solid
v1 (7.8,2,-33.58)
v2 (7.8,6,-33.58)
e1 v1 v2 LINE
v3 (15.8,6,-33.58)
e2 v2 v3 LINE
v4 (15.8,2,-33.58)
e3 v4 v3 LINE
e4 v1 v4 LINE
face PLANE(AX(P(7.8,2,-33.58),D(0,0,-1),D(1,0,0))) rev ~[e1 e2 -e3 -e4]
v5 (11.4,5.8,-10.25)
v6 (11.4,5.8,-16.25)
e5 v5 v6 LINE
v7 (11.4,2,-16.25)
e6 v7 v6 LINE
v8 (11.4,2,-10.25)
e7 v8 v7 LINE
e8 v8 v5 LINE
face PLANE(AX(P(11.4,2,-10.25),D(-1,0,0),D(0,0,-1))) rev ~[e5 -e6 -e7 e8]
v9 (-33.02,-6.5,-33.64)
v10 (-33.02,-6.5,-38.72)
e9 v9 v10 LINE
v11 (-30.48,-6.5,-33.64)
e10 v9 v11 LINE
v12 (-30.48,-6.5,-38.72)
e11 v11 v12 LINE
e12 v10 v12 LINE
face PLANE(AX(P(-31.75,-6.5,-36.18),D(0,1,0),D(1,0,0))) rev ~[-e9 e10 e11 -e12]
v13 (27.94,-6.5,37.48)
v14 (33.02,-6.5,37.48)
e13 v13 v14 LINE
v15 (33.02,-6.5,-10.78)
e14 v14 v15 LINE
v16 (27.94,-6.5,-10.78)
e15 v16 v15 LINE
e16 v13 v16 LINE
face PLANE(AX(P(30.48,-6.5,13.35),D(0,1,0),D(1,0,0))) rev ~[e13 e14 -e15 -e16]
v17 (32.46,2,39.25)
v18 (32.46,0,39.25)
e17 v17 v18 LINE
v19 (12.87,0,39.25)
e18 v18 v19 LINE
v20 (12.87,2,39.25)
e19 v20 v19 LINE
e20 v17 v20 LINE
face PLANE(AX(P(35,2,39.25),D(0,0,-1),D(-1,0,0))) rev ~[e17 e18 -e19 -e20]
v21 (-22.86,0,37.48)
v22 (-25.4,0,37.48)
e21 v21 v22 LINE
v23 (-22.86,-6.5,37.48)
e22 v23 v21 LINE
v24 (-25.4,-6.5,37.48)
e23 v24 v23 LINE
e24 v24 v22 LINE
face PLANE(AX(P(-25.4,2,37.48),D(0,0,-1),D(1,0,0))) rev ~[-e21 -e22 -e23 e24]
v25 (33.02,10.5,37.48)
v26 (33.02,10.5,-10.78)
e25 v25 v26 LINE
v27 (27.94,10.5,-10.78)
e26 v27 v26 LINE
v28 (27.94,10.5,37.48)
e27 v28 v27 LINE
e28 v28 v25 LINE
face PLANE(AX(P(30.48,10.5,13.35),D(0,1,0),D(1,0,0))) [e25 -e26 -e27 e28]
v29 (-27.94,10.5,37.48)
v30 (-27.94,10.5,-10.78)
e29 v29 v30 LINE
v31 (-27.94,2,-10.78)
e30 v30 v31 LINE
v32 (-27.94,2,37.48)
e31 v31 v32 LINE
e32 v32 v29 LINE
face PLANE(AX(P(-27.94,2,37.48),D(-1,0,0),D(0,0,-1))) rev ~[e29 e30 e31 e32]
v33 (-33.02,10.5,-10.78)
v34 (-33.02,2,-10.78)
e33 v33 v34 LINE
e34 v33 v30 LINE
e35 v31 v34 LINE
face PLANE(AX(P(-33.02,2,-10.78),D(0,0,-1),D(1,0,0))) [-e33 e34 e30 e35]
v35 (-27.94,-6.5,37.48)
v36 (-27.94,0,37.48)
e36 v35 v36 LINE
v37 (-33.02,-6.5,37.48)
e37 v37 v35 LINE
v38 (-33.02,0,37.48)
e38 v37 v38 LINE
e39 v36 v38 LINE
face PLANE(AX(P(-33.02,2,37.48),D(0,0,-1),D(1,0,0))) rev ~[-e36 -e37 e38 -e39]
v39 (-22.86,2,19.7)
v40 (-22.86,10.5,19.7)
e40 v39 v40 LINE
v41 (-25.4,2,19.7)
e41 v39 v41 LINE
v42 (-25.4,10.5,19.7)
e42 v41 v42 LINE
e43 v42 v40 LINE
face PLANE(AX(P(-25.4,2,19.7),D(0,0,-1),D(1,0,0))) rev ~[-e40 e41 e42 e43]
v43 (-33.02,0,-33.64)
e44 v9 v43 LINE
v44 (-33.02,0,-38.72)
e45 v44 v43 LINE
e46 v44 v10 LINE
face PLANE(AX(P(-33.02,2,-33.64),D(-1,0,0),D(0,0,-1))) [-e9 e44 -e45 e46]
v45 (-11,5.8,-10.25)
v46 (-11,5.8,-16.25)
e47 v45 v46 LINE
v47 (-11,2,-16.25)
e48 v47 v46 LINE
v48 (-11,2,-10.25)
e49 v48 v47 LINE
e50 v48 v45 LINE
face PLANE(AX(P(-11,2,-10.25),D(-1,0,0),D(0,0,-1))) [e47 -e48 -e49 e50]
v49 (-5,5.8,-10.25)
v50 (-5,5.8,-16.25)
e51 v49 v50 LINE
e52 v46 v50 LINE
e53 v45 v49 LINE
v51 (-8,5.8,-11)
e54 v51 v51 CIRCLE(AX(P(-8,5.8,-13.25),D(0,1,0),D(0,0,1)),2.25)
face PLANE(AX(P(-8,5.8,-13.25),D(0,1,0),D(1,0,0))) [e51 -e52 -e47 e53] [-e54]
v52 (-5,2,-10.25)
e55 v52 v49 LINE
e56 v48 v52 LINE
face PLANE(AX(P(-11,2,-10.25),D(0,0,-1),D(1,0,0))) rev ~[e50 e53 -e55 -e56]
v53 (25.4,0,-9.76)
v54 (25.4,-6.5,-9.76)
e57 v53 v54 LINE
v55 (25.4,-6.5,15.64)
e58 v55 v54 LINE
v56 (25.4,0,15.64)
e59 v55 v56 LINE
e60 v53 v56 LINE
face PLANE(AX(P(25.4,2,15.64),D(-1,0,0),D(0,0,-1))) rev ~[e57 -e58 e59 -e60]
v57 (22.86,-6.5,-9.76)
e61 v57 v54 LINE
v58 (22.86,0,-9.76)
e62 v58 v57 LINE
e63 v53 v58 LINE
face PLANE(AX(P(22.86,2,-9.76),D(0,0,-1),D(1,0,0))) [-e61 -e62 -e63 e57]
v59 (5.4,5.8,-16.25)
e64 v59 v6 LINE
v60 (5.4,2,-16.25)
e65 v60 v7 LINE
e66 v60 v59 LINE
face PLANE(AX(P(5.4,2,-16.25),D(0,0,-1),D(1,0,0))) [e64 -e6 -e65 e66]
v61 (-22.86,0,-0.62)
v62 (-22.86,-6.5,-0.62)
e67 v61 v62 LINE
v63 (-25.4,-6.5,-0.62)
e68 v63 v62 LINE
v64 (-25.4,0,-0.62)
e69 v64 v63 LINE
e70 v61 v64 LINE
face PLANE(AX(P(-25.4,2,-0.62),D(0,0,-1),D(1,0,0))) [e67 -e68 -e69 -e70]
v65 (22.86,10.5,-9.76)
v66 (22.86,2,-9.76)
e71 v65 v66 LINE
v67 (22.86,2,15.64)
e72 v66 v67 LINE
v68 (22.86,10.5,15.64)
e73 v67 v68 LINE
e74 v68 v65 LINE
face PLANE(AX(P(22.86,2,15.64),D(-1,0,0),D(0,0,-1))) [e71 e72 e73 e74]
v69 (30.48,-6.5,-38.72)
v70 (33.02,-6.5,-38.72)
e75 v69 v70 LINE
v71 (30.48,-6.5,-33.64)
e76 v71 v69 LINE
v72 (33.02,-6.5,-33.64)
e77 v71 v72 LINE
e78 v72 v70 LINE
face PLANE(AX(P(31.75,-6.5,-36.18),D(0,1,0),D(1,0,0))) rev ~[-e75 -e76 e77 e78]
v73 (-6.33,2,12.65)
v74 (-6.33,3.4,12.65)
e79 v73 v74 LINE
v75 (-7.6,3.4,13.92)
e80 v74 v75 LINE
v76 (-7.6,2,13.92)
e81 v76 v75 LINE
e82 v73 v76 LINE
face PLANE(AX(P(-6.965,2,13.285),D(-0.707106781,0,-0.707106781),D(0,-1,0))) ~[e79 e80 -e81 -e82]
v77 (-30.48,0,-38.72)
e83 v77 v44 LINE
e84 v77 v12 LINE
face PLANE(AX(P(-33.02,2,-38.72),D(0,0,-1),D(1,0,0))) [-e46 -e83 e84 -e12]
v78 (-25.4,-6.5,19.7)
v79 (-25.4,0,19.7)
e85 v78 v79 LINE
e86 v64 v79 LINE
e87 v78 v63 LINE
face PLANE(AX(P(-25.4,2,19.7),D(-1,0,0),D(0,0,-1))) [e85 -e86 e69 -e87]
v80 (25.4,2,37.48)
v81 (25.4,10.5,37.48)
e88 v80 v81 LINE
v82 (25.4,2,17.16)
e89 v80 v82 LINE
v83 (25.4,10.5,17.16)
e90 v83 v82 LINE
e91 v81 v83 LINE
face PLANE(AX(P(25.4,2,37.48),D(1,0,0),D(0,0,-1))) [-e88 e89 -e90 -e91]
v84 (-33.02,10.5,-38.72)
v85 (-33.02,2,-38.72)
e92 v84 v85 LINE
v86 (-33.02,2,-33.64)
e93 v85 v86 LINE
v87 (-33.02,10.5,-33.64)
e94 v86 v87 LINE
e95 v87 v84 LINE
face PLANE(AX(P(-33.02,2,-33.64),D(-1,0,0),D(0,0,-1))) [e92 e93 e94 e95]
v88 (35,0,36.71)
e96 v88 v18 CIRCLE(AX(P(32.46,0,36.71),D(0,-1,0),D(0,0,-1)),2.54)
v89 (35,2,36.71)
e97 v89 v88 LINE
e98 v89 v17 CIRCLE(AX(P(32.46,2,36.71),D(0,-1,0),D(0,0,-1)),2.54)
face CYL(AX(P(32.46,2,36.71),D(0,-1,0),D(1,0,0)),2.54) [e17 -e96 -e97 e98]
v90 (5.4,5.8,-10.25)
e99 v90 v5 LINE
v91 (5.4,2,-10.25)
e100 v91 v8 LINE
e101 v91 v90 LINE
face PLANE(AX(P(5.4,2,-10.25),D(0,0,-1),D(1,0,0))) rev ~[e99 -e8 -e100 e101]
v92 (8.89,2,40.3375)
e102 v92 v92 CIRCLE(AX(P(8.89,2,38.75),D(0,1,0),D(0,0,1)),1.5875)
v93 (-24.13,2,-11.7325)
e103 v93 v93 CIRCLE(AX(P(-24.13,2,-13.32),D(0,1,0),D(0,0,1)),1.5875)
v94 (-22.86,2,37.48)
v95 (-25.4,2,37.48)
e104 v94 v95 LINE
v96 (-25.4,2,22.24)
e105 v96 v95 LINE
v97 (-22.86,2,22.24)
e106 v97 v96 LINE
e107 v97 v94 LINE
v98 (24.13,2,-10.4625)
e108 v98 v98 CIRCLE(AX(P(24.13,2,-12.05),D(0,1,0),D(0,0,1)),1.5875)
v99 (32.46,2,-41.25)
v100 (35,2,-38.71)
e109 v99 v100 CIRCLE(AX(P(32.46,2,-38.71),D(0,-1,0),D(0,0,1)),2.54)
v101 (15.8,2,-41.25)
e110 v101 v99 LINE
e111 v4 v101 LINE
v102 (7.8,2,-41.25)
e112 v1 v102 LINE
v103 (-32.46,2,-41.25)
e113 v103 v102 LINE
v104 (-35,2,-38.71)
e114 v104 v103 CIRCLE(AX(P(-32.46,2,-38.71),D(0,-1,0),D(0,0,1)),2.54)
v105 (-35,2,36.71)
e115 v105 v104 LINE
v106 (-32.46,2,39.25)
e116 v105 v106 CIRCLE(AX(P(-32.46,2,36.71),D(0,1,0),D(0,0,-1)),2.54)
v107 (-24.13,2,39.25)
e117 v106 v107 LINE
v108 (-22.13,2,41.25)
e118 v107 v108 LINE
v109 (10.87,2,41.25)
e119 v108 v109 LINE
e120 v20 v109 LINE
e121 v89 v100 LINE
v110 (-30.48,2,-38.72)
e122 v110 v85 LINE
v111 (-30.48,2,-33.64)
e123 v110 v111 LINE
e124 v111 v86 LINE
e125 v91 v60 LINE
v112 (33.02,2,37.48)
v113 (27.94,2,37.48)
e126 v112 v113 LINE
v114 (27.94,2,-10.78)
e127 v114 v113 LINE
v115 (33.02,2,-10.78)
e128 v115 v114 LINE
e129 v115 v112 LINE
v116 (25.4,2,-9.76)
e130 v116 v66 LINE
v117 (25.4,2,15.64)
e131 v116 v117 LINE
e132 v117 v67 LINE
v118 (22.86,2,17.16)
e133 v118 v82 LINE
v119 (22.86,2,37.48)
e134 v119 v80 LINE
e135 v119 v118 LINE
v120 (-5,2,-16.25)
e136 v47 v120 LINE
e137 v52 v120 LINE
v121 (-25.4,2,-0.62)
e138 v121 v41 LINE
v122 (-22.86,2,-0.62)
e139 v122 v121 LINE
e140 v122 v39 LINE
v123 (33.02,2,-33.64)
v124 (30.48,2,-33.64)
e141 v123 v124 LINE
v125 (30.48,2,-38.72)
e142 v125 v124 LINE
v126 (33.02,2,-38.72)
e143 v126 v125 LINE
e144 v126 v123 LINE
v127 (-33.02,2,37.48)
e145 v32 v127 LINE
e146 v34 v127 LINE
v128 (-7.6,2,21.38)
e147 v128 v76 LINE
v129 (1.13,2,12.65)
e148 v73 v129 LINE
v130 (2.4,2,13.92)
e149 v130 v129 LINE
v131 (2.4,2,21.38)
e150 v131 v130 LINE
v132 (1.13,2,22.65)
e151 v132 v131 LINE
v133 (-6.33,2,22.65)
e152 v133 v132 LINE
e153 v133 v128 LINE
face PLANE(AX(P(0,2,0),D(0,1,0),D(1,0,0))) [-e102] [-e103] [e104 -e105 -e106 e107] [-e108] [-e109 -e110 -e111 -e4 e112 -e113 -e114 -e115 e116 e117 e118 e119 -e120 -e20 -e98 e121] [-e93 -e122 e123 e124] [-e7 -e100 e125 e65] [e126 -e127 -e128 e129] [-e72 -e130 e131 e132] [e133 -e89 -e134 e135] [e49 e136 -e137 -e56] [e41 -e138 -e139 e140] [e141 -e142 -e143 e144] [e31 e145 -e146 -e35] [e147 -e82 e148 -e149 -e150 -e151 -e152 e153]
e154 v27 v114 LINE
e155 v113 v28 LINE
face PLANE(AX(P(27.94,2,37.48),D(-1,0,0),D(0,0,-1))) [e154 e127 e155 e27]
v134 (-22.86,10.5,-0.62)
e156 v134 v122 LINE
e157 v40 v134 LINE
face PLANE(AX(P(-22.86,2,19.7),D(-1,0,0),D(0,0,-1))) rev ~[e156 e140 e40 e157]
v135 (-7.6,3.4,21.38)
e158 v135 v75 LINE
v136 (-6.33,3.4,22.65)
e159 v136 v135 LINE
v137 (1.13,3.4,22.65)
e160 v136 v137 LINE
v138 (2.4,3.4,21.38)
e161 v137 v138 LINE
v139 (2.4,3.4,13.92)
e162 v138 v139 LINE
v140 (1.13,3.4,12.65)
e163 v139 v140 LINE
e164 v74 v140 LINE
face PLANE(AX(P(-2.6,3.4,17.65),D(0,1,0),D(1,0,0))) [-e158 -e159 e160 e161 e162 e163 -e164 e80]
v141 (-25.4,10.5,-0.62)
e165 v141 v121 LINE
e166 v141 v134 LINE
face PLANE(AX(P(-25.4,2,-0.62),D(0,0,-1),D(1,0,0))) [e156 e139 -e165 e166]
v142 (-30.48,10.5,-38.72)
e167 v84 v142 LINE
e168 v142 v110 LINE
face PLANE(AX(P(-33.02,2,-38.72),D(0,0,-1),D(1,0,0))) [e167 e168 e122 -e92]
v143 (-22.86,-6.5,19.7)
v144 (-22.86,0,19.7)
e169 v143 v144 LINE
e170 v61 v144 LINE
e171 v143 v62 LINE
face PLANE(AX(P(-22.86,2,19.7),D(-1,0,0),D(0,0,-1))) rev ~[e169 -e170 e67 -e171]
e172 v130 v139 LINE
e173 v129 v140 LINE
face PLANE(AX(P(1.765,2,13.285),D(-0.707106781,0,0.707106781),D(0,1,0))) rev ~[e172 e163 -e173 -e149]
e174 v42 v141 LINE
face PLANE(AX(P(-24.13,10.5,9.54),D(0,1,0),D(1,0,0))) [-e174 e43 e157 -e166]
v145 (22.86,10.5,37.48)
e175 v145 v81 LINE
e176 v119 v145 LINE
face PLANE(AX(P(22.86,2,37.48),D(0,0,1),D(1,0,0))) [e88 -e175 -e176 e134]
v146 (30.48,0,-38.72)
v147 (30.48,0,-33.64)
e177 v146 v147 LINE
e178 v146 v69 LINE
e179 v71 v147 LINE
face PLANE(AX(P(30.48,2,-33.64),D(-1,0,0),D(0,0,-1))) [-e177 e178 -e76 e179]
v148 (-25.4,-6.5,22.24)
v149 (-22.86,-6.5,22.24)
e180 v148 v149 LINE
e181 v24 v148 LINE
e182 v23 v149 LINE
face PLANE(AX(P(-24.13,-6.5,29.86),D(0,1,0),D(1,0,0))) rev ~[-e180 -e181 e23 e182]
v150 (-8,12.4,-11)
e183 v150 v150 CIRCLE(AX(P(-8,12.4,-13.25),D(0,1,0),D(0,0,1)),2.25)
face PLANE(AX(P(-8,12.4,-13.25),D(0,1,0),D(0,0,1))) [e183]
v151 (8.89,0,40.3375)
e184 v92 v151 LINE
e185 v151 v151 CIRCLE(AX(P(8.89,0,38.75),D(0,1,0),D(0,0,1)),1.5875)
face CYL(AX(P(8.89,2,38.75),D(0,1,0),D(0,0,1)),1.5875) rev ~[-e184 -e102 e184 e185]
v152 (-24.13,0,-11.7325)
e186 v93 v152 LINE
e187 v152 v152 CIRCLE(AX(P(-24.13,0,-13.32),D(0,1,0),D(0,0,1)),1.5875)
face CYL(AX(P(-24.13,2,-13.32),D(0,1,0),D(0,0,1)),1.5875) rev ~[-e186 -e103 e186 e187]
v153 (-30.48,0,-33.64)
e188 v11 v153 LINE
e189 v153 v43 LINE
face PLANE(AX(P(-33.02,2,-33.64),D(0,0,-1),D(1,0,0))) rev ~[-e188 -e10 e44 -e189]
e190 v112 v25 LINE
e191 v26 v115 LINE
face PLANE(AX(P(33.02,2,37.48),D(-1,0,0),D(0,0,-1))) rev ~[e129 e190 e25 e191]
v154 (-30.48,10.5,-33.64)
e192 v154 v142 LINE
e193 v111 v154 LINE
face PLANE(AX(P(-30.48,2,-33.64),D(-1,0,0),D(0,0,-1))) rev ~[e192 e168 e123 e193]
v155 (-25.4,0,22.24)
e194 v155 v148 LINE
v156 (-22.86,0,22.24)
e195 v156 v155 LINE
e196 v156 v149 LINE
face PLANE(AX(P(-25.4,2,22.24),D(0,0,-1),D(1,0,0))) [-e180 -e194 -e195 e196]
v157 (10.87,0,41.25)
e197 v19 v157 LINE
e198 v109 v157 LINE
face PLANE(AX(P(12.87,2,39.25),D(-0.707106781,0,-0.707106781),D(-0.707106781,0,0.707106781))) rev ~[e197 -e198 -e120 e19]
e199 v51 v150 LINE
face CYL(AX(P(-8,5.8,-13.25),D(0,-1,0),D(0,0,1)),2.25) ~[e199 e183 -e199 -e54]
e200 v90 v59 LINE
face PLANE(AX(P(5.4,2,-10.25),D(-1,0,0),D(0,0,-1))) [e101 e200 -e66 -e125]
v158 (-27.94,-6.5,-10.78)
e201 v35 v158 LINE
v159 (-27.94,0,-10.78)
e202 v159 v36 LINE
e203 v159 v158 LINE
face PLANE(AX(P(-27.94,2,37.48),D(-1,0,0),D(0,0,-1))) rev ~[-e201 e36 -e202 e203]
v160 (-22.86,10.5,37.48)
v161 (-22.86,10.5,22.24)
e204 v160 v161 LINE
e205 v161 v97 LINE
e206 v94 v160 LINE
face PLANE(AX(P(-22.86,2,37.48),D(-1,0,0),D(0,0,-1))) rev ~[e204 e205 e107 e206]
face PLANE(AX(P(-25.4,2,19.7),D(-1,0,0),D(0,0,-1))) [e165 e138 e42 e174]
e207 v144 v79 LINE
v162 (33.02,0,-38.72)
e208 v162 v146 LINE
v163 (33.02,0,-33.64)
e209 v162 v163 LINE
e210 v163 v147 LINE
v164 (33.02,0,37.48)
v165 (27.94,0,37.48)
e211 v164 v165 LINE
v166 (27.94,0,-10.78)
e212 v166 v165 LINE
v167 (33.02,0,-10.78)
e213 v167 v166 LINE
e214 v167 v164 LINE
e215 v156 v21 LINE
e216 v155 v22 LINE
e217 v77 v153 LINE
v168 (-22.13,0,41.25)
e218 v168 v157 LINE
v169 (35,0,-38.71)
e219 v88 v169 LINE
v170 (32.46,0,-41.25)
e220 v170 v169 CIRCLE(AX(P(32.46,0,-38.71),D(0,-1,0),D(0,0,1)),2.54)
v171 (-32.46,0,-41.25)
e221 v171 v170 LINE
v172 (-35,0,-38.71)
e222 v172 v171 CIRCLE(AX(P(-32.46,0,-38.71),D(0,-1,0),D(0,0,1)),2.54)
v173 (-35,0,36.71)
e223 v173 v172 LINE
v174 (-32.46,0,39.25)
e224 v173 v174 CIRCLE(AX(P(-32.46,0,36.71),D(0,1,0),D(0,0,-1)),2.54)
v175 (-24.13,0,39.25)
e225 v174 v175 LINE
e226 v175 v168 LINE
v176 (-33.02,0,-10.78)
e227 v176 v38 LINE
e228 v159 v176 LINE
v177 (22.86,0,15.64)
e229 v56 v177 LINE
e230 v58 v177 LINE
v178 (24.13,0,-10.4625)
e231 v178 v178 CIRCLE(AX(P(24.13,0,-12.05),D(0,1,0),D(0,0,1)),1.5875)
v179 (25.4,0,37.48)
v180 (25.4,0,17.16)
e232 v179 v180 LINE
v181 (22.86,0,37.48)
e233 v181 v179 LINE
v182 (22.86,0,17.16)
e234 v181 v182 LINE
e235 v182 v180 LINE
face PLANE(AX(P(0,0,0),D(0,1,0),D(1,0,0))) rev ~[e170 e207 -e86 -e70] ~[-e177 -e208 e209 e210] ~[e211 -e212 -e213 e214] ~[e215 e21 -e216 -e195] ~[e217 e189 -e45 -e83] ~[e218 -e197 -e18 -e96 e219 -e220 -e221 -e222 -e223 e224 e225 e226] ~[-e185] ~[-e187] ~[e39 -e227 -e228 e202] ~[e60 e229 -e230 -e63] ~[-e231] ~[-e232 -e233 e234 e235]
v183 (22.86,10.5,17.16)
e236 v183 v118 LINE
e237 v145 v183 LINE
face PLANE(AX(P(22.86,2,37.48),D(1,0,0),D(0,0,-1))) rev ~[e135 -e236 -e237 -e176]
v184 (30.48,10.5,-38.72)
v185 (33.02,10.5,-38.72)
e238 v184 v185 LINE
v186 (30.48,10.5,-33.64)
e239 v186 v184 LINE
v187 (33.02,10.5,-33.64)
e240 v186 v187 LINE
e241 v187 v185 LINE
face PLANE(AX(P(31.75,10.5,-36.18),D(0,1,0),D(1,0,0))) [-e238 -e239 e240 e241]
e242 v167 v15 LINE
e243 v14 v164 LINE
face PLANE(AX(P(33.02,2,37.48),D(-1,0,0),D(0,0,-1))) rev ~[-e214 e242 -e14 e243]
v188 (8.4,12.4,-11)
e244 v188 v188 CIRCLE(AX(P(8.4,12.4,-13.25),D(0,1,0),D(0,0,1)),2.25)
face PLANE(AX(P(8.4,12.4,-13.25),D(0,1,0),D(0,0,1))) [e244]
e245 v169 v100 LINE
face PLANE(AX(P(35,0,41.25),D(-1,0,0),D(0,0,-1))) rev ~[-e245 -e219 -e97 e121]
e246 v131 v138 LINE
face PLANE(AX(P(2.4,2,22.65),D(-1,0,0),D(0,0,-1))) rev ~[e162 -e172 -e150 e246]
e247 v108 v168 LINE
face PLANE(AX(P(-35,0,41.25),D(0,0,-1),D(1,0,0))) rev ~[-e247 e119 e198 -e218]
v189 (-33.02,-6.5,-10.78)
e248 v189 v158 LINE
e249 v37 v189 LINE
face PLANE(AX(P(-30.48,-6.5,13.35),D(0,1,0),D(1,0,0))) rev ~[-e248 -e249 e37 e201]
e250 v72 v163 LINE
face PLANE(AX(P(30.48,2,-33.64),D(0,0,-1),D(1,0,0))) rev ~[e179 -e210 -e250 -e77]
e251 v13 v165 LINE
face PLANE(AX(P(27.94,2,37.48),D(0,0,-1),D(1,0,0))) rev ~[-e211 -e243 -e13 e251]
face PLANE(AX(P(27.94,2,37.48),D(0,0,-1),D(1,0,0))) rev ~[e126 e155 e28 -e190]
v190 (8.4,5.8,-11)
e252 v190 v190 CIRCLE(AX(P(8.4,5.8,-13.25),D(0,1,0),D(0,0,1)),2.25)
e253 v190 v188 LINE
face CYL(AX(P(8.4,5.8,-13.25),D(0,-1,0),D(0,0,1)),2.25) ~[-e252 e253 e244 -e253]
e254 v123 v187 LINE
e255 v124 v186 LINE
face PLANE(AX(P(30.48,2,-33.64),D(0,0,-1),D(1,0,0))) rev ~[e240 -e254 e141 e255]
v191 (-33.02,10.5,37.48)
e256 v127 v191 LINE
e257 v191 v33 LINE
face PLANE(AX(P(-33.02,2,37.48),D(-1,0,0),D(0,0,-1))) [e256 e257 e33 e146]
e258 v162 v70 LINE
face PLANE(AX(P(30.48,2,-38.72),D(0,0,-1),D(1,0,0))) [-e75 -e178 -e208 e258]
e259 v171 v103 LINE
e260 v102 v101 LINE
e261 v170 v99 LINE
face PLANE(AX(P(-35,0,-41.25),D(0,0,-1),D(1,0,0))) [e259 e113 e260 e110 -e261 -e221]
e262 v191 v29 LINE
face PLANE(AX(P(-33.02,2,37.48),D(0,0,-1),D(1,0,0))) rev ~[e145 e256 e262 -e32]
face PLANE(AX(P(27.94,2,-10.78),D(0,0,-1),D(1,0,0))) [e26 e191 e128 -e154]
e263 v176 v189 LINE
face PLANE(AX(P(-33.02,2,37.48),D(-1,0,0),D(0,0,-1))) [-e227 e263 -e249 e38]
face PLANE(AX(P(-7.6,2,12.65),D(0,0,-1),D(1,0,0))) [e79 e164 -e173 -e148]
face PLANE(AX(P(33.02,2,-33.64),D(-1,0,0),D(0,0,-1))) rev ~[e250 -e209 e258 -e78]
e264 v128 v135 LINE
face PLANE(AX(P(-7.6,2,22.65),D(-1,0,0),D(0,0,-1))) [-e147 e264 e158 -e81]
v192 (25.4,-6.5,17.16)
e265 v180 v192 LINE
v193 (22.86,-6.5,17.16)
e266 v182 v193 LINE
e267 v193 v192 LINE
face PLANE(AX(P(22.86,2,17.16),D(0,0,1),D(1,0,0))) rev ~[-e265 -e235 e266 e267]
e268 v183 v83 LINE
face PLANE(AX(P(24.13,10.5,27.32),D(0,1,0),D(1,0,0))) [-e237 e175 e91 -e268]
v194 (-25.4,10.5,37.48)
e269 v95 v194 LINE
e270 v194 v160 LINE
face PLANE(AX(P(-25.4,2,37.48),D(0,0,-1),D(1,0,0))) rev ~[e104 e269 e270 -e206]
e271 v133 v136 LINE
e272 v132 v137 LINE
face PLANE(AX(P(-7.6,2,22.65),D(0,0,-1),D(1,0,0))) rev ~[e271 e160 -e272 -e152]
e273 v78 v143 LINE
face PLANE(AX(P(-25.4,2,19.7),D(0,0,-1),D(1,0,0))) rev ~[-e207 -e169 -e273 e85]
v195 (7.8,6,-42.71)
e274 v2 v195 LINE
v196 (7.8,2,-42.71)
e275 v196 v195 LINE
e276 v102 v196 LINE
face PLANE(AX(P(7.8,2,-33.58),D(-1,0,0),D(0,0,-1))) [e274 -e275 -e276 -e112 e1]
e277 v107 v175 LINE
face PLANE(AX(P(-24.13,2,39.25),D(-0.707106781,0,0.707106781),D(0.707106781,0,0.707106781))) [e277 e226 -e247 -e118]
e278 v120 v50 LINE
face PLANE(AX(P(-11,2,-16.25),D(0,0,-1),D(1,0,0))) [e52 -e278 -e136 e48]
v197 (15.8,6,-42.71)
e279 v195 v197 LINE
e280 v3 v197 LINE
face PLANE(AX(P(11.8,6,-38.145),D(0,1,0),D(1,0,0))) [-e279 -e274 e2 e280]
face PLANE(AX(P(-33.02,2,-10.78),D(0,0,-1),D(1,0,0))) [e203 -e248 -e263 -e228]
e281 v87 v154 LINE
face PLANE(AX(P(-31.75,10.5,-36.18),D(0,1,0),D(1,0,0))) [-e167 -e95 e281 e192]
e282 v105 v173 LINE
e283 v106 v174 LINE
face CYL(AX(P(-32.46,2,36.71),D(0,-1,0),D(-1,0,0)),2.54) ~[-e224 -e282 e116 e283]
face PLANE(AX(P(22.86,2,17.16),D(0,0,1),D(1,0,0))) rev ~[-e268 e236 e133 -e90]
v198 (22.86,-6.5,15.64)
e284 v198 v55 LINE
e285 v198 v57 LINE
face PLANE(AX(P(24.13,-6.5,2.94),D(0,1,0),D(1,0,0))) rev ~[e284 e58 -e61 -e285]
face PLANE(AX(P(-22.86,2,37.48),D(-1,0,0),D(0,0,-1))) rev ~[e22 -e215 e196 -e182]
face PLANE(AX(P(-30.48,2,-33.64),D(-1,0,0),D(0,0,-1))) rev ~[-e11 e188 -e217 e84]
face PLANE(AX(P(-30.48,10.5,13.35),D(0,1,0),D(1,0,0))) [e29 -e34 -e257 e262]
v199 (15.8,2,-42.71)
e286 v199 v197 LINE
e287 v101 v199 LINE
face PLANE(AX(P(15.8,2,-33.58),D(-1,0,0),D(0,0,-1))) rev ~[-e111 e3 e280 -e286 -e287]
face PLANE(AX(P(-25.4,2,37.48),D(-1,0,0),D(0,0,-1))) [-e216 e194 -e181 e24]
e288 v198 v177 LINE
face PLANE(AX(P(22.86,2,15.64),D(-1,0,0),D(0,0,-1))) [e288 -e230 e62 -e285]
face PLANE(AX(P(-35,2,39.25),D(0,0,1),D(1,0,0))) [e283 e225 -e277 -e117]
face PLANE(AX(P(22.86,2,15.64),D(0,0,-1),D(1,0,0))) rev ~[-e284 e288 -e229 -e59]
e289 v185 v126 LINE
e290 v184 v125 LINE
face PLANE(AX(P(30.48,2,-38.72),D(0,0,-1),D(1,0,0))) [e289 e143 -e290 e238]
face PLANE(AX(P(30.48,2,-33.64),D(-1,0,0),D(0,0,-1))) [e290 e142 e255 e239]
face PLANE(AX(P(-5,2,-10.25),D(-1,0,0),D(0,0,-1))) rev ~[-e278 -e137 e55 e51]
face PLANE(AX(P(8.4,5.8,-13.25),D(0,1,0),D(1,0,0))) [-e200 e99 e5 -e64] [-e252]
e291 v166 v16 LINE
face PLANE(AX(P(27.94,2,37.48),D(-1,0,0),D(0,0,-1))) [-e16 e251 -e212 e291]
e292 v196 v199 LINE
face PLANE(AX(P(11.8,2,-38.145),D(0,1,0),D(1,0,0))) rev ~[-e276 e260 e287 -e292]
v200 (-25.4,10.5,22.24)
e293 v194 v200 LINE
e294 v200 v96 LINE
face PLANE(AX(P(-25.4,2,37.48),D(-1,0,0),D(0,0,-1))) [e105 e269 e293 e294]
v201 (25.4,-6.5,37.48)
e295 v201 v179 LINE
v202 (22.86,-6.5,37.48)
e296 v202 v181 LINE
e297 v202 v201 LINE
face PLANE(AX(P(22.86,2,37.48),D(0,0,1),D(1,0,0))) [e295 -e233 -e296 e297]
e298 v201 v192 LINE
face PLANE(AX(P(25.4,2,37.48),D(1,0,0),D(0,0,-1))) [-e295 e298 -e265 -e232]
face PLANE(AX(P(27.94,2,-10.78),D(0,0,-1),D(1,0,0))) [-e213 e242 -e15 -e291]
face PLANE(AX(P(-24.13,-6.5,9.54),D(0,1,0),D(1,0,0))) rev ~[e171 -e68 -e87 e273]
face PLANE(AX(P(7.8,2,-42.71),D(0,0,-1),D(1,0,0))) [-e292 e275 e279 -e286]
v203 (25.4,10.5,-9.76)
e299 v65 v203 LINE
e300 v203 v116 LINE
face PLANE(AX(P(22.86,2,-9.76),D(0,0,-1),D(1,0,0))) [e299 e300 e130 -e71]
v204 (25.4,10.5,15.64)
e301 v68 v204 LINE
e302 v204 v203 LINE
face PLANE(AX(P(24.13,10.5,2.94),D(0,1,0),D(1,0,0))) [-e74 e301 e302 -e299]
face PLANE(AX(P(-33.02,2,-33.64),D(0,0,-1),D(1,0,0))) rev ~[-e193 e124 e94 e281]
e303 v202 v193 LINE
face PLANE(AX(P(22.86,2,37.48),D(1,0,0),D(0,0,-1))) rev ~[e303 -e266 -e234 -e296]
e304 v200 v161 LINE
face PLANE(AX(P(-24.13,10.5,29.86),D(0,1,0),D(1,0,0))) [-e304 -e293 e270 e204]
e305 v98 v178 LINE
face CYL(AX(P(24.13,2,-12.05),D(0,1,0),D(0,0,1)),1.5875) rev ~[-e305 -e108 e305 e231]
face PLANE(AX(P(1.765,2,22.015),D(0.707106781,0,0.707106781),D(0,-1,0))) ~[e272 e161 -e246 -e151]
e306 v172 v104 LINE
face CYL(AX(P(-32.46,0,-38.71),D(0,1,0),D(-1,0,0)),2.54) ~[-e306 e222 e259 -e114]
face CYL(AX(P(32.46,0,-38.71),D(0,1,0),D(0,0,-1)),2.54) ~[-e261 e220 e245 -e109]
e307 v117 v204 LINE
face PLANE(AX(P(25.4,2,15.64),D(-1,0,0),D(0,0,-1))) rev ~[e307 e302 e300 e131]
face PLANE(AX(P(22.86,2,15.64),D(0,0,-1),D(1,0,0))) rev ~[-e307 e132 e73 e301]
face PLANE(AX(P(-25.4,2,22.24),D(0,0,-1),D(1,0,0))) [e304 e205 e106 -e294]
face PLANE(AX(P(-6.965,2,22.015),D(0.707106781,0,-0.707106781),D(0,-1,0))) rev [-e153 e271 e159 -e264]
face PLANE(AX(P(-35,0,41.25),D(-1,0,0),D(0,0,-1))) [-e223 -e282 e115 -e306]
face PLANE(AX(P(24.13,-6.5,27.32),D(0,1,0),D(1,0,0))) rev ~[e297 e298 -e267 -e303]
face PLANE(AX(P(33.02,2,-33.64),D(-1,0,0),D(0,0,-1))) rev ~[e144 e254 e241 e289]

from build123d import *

# Parameters (mm, degrees)
SKETCH1_W           = 70
SKETCH1_H           = 82.5
BOSS_EXTRUDE1_DEPTH = 2
SKETCH2_R           = 1.5875
CUT_EXTRUDE1_DEPTH  = 55.134670037
FILLET1_R           = 2.54
SKETCH2_3_W         = 5.08
SKETCH2_3_H         = 48.26
SKETCH2_3_W_2       = 2.54
SKETCH2_3_H_2       = 25.4
SKETCH2_3_H_3       = 20.32
SKETCH2_3_H_4       = 15.24
SKETCH2_3_H_5       = 5.08
BOSS_EXTRUDE2_DEPTH = 8.500000018
SKETCH4_W           = 8
SKETCH4_H           = 9.13
BOSS_EXTRUDE3_DEPTH = 4
SKETCH4_3_W         = 6
SKETCH4_3_H         = 6
BOSS_EXTRUDE4_DEPTH = 3.8
SKETCH5_R           = 2.25
BOSS_EXTRUDE5_DEPTH = 6.6
SKETCH6_W           = 10
SKETCH6_H           = 10
BOSS_EXTRUDE6_DEPTH = 1.4
CHAMFER1_SIZE       = 1.27


with BuildPart() as part:
    # Sketch1 → Boss-Extrude1 (new body)
    with BuildSketch(Plane(origin=(0, 0, 0), x_dir=(1, 0, 0), z_dir=(0, 1, 0))):
        Rectangle(SKETCH1_W, SKETCH1_H)
    extrude(amount=BOSS_EXTRUDE1_DEPTH)

    # Sketch2 → Cut-Extrude1 (cut, through all)
    with BuildSketch(Plane(origin=(0, 2, 0), x_dir=(1, 0, 0), z_dir=(0, 1, 0))):
        with Locations((8.89, -38.75)):
            Circle(SKETCH2_R)
        with Locations((24.13, 12.05)):
            Circle(SKETCH2_R)
        with Locations((-24.13, 13.32)):
            Circle(SKETCH2_R)
        Polygon((-35, -41.25), (-35, -39.25), (-24.13, -39.25), (-22.13, -41.25), align=None)
        Polygon((35, -39.25), (12.87, -39.25), (10.87, -41.25), (35, -41.25), align=None)
    extrude(amount=-CUT_EXTRUDE1_DEPTH, mode=Mode.SUBTRACT)

    # Fillet1
    fillet1_edges = [part.edges().sort_by_distance(p)[0] for p in [
        (-35, 1, -41.25),
        (35, 1, -41.25),
        (35, 1, 39.25),
        (-35, 1, 39.25),
    ]]
    fillet(fillet1_edges, radius=FILLET1_R)

    # Sketch2<3> → Boss-Extrude2 (add, symmetric)
    with BuildSketch(Plane(origin=(0, 2, 0), x_dir=(1, 0, 0), z_dir=(0, 1, 0))):
        with Locations((30.48, -13.35)):
            Rectangle(SKETCH2_3_W, SKETCH2_3_H)
        with Locations((-30.48, -13.35)):
            Rectangle(SKETCH2_3_W, SKETCH2_3_H)
        with Locations((24.13, -2.94)):
            Rectangle(SKETCH2_3_W_2, SKETCH2_3_H_2)
        with Locations((24.13, -27.32)):
            Rectangle(SKETCH2_3_W_2, SKETCH2_3_H_3)
        with Locations((-24.13, -9.54)):
            Rectangle(SKETCH2_3_W_2, SKETCH2_3_H_3)
        with Locations((-24.13, -29.86)):
            Rectangle(SKETCH2_3_W_2, SKETCH2_3_H_4)
        with Locations((-31.75, 36.18)):
            Rectangle(SKETCH2_3_W_2, SKETCH2_3_H_5)
        with Locations((31.75, 36.18)):
            Rectangle(SKETCH2_3_W_2, SKETCH2_3_H_5)
    extrude(amount=BOSS_EXTRUDE2_DEPTH, both=True)

    # Sketch4 → Boss-Extrude3 (add)
    with BuildSketch(Plane(origin=(0, 2, 0), x_dir=(1, 0, 0), z_dir=(0, 1, 0))):
        with Locations((11.8, 38.145)):
            Rectangle(SKETCH4_W, SKETCH4_H)
    extrude(amount=BOSS_EXTRUDE3_DEPTH)

    # Sketch4<3> → Boss-Extrude4 (add)
    with BuildSketch(Plane(origin=(0, 2, 0), x_dir=(1, 0, 0), z_dir=(0, 1, 0))):
        with Locations((-8, 13.25)):
            Rectangle(SKETCH4_3_W, SKETCH4_3_H)
        with Locations((8.4, 13.25)):
            Rectangle(SKETCH4_3_W, SKETCH4_3_H)
    extrude(amount=BOSS_EXTRUDE4_DEPTH)

    # Sketch5 → Boss-Extrude5 (add)
    with BuildSketch(Plane(origin=(0, 5.8, 0), x_dir=(1, 0, 0), z_dir=(0, 1, 0))):
        with Locations((-8, 13.25)):
            Circle(SKETCH5_R)
        with Locations((8.4, 13.25)):
            Circle(SKETCH5_R)
    extrude(amount=BOSS_EXTRUDE5_DEPTH)

    # Sketch6 → Boss-Extrude6 (add)
    with BuildSketch(Plane(origin=(0, 2, 0), x_dir=(1, 0, 0), z_dir=(0, 1, 0))):
        with Locations((-2.6, -17.65)):
            Rectangle(SKETCH6_W, SKETCH6_H)
    extrude(amount=BOSS_EXTRUDE6_DEPTH)

    # Chamfer1
    chamfer1_edges = [part.edges().sort_by_distance(p)[0] for p in [
        (2.4, 2.7, 22.65),
        (2.4, 2.7, 12.65),
        (-7.6, 2.7, 12.65),
        (-7.6, 2.7, 22.65),
    ]]
    chamfer(chamfer1_edges, length=CHAMFER1_SIZE)


solid = part.part
